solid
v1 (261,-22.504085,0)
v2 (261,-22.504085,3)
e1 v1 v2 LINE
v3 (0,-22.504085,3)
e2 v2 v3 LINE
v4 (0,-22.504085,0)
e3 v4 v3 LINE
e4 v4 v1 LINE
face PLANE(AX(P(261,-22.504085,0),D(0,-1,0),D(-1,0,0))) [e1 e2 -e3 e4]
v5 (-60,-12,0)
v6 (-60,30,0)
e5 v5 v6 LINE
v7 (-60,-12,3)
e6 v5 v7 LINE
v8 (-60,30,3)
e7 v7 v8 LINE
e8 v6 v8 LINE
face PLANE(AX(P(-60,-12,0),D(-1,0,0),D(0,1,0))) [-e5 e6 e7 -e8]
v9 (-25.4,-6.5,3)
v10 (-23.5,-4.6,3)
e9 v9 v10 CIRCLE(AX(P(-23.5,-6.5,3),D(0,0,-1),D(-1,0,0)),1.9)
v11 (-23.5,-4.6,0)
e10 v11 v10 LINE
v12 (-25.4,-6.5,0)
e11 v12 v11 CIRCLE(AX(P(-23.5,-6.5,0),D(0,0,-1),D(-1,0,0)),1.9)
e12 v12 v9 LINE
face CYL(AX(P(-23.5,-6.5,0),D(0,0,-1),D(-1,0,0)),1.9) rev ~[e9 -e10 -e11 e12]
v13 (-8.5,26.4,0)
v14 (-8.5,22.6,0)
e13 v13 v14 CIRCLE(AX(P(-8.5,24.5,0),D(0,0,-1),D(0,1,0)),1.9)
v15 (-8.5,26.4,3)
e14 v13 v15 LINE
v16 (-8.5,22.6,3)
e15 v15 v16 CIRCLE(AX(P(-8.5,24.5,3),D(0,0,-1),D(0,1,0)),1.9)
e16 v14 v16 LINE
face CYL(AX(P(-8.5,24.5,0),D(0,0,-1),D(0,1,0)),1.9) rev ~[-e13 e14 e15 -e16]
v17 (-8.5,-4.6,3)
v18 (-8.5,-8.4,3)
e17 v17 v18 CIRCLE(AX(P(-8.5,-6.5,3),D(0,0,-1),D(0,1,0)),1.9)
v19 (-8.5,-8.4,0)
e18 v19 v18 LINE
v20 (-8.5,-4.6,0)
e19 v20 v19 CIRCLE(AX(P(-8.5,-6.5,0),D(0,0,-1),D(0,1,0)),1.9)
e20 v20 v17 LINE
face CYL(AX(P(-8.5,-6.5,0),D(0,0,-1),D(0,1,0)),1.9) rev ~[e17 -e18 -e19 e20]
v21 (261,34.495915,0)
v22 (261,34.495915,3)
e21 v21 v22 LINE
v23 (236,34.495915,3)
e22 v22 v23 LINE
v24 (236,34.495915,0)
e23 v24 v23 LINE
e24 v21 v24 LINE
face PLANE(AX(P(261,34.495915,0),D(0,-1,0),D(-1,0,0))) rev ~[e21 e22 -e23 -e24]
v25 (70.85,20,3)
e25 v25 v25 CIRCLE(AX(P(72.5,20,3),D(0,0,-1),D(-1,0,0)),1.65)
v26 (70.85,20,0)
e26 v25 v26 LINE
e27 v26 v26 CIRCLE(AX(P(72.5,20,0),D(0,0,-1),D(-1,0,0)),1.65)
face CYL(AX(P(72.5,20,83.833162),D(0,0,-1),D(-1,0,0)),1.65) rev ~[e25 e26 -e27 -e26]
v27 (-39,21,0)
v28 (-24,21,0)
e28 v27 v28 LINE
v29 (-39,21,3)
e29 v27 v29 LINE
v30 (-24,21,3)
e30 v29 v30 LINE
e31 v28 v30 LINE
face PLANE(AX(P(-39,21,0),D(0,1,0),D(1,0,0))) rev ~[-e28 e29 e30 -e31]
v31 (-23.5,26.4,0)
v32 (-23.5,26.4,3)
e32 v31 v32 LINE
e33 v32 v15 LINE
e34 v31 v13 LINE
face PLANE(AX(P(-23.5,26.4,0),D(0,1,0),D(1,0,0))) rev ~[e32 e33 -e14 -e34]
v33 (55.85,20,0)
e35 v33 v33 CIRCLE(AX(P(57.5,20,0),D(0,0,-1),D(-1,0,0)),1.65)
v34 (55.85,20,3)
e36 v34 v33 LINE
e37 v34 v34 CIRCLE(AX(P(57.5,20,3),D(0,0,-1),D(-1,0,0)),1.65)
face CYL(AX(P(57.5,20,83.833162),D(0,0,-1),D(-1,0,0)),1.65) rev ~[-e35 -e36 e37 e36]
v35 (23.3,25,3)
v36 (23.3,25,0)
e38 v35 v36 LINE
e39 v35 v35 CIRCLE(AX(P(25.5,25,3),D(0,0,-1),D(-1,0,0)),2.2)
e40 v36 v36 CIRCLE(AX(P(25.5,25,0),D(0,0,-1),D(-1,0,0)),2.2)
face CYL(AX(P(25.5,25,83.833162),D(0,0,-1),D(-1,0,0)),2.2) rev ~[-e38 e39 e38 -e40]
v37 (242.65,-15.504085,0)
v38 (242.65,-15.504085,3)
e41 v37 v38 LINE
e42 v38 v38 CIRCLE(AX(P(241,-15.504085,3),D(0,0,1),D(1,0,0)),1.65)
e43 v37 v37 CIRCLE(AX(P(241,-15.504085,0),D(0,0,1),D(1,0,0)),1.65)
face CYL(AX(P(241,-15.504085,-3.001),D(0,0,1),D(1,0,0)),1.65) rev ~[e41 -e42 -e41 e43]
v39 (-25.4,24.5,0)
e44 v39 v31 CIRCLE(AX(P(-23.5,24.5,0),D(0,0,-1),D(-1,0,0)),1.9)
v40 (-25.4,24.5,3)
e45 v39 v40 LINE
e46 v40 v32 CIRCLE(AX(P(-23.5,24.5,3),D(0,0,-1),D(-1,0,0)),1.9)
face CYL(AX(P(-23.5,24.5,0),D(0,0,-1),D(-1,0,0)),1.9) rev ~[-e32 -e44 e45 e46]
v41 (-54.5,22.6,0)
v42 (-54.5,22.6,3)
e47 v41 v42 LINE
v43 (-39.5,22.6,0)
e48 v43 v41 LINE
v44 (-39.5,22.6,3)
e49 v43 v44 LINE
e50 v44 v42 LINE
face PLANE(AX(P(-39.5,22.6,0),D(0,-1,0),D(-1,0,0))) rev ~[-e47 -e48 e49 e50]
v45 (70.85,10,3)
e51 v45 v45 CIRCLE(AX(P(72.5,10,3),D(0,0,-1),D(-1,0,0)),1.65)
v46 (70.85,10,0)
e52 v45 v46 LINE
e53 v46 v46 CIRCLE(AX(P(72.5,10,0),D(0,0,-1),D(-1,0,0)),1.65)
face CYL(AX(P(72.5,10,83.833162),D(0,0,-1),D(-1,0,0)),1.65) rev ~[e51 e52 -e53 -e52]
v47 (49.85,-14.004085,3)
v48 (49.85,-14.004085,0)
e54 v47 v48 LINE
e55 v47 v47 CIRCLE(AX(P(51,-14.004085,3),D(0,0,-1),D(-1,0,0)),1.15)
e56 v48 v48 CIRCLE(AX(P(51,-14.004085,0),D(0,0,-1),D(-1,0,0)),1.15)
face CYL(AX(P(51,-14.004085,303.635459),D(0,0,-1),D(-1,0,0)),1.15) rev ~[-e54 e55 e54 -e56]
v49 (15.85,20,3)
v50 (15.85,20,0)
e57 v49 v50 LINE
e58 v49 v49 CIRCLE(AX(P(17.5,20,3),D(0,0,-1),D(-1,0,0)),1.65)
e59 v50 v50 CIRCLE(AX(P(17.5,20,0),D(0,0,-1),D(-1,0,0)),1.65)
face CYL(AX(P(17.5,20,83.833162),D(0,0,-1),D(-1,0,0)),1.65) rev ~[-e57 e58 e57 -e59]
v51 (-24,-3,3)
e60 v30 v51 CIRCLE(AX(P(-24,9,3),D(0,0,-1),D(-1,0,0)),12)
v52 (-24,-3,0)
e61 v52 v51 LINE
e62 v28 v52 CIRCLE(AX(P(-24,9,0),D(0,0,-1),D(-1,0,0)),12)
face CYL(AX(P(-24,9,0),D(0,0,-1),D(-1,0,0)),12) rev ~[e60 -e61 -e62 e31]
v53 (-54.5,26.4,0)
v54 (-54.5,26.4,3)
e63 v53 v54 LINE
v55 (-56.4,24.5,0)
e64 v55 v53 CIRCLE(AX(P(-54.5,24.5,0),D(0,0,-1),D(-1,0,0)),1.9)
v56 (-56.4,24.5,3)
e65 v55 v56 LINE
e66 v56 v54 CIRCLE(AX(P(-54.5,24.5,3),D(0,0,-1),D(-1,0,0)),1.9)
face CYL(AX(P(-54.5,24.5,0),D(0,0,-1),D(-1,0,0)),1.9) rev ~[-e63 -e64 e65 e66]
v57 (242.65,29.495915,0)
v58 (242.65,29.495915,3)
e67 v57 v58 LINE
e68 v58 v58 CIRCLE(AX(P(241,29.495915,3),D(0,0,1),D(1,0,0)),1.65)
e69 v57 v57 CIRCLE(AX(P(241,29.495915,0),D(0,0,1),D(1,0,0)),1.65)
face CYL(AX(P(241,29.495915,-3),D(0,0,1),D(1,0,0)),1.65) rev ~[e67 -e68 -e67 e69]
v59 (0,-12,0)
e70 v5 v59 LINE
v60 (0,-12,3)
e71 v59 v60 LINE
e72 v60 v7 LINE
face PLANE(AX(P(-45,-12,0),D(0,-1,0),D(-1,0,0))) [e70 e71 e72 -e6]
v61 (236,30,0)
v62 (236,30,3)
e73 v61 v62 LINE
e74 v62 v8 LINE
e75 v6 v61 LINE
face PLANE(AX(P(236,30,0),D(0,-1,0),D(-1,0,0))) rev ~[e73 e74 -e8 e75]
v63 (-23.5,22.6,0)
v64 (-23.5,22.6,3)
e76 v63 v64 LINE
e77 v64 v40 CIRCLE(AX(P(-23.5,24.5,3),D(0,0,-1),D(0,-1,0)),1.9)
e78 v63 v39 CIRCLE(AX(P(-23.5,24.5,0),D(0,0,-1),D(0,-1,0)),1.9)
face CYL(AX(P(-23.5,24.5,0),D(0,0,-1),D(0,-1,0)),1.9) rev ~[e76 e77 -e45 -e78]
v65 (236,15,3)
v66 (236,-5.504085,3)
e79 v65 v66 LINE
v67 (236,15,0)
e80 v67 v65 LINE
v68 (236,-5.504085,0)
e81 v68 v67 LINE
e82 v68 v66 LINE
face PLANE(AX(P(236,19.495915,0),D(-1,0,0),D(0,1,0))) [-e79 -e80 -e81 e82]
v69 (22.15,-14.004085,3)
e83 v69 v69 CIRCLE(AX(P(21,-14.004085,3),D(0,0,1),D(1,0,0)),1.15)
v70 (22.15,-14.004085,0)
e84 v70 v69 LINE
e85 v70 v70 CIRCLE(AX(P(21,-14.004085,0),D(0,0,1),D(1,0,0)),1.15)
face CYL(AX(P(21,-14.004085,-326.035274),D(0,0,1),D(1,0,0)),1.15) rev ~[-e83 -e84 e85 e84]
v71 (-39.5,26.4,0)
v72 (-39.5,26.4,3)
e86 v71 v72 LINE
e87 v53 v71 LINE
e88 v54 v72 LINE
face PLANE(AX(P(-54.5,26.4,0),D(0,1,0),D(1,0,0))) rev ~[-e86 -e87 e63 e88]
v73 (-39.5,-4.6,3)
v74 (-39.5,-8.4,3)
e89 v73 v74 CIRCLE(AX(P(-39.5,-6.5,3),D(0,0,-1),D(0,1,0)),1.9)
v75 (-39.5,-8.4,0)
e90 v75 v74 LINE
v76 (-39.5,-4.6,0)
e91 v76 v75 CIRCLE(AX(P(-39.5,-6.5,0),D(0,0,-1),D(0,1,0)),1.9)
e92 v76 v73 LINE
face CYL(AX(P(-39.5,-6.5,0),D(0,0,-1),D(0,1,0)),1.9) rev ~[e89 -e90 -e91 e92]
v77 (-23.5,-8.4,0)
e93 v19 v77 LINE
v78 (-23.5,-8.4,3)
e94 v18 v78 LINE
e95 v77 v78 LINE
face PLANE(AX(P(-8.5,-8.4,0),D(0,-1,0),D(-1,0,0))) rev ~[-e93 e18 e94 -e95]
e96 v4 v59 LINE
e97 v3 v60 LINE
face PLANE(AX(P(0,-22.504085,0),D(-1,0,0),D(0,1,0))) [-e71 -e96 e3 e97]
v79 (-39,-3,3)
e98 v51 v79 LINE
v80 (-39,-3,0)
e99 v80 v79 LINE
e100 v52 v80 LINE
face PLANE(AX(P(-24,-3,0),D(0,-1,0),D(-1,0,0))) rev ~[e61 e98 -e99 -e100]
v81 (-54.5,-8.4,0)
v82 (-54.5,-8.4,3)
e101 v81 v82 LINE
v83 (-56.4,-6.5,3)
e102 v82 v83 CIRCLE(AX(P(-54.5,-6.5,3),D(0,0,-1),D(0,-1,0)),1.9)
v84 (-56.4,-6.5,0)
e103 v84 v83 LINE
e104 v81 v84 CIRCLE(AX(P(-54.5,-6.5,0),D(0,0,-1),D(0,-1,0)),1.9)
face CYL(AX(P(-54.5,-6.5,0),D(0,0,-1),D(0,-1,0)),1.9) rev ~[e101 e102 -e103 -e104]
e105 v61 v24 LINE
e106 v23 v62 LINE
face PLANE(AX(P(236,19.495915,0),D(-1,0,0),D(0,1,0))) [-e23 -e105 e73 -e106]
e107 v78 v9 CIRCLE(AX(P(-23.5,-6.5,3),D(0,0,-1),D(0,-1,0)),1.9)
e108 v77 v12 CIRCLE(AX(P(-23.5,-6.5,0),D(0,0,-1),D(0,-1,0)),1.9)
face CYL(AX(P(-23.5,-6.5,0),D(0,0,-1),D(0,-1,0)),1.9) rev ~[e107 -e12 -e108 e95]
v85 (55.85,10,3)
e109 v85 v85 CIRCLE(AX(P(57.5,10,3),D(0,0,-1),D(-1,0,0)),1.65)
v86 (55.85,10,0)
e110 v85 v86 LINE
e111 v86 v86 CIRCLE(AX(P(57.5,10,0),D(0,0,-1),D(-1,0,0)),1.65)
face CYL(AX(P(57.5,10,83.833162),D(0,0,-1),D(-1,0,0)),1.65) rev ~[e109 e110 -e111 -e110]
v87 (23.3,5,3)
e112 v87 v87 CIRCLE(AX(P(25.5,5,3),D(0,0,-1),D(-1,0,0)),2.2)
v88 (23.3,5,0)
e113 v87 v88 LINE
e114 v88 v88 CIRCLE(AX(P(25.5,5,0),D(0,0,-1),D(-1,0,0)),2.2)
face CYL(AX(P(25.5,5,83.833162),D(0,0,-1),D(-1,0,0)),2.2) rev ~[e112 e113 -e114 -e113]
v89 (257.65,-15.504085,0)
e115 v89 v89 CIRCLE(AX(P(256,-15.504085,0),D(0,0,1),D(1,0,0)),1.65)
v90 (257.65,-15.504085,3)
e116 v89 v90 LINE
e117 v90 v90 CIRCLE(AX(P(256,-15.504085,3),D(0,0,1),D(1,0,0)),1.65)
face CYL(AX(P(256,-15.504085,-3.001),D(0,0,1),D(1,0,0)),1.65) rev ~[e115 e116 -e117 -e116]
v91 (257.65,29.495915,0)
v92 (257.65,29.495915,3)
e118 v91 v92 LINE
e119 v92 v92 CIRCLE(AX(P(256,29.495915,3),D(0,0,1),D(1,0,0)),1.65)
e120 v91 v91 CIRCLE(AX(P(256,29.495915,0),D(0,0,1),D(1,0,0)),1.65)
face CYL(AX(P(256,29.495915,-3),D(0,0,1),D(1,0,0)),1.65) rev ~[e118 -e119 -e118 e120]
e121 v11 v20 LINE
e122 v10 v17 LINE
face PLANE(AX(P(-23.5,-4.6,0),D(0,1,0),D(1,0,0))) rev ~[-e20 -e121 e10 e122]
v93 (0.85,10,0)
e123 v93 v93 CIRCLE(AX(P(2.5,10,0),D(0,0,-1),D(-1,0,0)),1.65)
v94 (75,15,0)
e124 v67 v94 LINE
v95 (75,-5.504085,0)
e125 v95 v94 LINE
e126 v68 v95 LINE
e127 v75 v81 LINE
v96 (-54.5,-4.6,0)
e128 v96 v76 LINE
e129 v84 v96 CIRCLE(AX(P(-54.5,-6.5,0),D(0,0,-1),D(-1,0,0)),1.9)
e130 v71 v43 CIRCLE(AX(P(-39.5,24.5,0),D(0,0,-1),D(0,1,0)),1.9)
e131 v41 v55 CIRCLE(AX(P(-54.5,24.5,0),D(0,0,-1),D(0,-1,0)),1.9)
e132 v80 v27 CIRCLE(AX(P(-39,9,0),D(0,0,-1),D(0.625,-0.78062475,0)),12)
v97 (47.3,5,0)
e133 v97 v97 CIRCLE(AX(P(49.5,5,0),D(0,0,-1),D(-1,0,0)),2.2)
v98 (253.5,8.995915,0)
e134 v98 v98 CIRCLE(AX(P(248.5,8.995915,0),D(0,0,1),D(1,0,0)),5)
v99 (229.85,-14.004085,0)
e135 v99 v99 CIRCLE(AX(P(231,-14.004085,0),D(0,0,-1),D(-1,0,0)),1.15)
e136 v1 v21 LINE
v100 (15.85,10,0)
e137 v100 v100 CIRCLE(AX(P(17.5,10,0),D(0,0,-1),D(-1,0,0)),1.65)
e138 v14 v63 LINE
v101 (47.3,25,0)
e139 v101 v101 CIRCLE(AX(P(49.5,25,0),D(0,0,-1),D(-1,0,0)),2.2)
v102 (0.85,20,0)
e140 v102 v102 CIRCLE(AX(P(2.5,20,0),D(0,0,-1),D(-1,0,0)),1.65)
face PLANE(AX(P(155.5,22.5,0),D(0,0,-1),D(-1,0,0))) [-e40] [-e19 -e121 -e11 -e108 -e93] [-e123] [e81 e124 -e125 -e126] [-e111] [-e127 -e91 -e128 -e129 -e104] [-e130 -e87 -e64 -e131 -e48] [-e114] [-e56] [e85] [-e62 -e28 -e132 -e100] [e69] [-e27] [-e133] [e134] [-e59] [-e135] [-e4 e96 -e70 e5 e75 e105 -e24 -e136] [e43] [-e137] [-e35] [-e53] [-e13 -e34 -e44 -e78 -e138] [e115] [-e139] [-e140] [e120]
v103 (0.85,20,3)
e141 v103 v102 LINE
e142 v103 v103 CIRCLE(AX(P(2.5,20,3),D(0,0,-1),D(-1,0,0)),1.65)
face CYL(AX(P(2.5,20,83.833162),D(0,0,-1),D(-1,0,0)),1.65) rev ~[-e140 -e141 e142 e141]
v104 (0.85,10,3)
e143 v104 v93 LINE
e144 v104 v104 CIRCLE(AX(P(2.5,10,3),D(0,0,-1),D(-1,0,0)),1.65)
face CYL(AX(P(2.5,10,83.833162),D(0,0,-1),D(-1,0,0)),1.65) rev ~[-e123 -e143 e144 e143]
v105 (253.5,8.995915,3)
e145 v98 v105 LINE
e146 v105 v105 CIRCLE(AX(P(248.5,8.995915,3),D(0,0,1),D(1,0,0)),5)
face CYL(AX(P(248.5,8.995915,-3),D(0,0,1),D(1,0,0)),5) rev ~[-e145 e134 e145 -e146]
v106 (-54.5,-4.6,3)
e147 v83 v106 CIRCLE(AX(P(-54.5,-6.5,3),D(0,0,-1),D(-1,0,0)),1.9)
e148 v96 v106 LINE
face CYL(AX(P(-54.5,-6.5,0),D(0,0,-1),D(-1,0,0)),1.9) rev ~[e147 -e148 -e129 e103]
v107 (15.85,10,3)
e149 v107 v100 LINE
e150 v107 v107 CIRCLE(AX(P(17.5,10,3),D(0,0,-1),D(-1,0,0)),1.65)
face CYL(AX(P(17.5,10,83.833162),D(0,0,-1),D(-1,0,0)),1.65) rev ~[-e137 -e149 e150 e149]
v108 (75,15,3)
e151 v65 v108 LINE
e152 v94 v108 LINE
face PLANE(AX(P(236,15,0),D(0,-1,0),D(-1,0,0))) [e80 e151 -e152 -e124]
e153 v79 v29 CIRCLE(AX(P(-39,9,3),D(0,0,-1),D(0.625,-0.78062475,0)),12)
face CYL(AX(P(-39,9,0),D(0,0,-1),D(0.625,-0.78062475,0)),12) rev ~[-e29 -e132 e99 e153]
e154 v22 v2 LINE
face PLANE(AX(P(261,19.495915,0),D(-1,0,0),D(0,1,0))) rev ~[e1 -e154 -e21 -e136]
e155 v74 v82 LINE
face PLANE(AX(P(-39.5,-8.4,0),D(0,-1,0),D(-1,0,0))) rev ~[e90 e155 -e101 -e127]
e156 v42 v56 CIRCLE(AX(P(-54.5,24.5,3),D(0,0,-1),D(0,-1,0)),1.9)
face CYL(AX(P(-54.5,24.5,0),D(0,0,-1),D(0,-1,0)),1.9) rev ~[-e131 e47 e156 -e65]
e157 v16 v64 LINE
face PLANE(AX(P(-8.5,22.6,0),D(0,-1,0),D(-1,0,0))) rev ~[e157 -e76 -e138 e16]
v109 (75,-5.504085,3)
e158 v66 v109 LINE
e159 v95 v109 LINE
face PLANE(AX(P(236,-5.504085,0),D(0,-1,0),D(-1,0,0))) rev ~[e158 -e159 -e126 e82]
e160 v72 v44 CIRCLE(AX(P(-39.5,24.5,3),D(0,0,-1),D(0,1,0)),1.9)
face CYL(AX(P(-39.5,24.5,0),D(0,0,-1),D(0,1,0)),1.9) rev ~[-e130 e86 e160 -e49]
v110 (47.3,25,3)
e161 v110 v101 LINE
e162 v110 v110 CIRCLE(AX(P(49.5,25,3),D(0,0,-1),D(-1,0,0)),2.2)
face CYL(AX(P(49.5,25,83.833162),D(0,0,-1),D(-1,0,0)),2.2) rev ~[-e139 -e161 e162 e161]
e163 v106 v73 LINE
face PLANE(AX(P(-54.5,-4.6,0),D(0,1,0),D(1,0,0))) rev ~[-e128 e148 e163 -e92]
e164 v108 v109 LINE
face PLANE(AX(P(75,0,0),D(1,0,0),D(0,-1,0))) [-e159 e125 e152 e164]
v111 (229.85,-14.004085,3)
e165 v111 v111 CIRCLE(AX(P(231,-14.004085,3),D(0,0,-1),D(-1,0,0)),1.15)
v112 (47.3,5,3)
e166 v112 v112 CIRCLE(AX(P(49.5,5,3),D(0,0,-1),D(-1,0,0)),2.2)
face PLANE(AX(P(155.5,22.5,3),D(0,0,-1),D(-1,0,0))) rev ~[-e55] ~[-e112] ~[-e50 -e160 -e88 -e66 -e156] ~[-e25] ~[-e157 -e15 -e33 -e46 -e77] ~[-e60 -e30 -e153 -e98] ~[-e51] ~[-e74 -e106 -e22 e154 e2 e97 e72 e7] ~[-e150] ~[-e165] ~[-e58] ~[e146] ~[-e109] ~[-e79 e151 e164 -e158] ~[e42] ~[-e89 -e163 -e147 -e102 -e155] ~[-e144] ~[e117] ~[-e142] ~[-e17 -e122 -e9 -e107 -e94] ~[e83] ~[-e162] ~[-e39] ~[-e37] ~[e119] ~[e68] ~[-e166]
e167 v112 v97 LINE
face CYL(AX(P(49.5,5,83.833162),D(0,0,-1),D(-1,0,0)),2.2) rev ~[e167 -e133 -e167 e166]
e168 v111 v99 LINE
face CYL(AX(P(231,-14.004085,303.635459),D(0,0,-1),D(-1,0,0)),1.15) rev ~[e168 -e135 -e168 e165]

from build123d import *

# Parameters (mm, degrees)
SKETCH_1_W          = 75
SKETCH_1_H          = 30
EXTRUDE_1_DEPTH     = 3
HOLE_WIZARD_1_D     = 4.4
HOLE_WIZARD_2_D     = 3.3
SKETCH_8_W          = 45
SKETCH_8_H          = 42
EXTRUDE_2_DEPTH     = 3
HOLE_WIZARD_3_D     = 3.8
SKETCH_13_W         = 15
SKETCH_13_H         = 42
EXTRUDE_3_DEPTH     = 3
CUT_EXTRUDE_3_DEPTH = 3
CUT_EXTRUDE_5_DEPTH = 3
CUT_EXTRUDE_6_DEPTH = 3
SKETCH_18_W         = 75
SKETCH_18_H         = 2.504084813
SKETCH_18_H_2       = 3
SKETCH_18_W_2       = 161
SKETCH_18_H_3       = 17
EXTRUDE_4_DEPTH     = 3
HOLE_WIZARD_4_D     = 2.3
SKETCH_22_W         = 25
SKETCH_22_H         = 42
EXTRUDE_5_DEPTH     = 3
HOLE_WIZARD_5_D     = 10
HOLE_WIZARD_5_DEPTH = 3
HOLE_WIZARD_7_D     = 3.3
HOLE_WIZARD_7_DEPTH = 3.001
SKETCH_31_W         = 25
SKETCH_31_H         = 15
EXTRUDE_6_DEPTH     = 3
HOLE_WIZARD_8_D     = 3.3
HOLE_WIZARD_8_DEPTH = 3
SKETCH_36_W         = 161
SKETCH_36_H         = 15
EXTRUDE_7_DEPTH     = 3
HOLE_WIZARD_9_D     = 2.3
SKETCH_40_R         = 12
CUT_EXTRUDE_7_DEPTH = 10


with BuildPart() as part:
    # 草图1 → 凸台-拉伸1 (new body)
    with BuildSketch(Plane.XY):
        with Locations((37.5, 15)):
            Rectangle(SKETCH_1_W, SKETCH_1_H)
    extrude(amount=EXTRUDE_1_DEPTH)

    # 孔1 (through all)
    with Locations(Plane.XY.offset(3)):
        with Locations((25.5, 25), (49.5, 25), (49.5, 5), (25.5, 5)):
            Hole(HOLE_WIZARD_1_D / 2)

    # 孔2 (through all)
    with Locations(Plane.XY.offset(3)):
        with Locations((2.5, 20), (17.5, 20), (17.5, 10), (2.5, 10), (57.5, 10), (57.5, 20), (72.5, 20), (72.5, 10)):
            Hole(HOLE_WIZARD_2_D / 2)

    # 草图8 → 凸台-拉伸2 (add)
    with BuildSketch(Plane(origin=(0, 0, 0), x_dir=(-1, 0, 0), z_dir=(0, 0, -1))):
        with Locations((22.5, 9)):
            Rectangle(SKETCH_8_W, SKETCH_8_H)
    extrude(amount=-EXTRUDE_2_DEPTH)

    # 孔3 (through all)
    with Locations(Plane.XY.offset(3)):
        with Locations((-39.5, 24.5), (-8.5, 24.5), (-8.5, -6.5), (-39.5, -6.5)):
            Hole(HOLE_WIZARD_3_D / 2)

    # 草图13 → 凸台-拉伸3 (add)
    with BuildSketch(Plane(origin=(0, 0, 0), x_dir=(-1, 0, 0), z_dir=(0, 0, -1))):
        with Locations((52.5, 9)):
            Rectangle(SKETCH_13_W, SKETCH_13_H)
    extrude(amount=-EXTRUDE_3_DEPTH)

    # 草图14 → 切除-拉伸3 (cut)
    with BuildSketch(Plane(origin=(0, 0, 0), x_dir=(-1, 0, 0), z_dir=(0, 0, -1))):
        with BuildLine():
            Line((23.5, 26.4), (8.5, 26.4))
            ThreePointArc((8.5, 26.4), (9.843502884, 25.843502884), (10.4, 24.5))
            ThreePointArc((10.4, 24.5), (9.843502884, 23.156497116), (8.5, 22.6))
            Line((8.5, 22.6), (23.5, 22.6))
            ThreePointArc((23.5, 22.6), (21.6, 24.5), (23.5, 26.4))
        make_face()
        with BuildLine():
            ThreePointArc((25.4, 24.5), (24.843502884, 25.843502884), (23.5, 26.4))
            Line((23.5, 26.4), (23.5, 22.6))
            ThreePointArc((23.5, 22.6), (24.843502884, 23.156497116), (25.4, 24.5))
        make_face()
        with BuildLine():
            Line((23.5, 22.6), (23.5, 26.4))
            ThreePointArc((23.5, 26.4), (21.6, 24.5), (23.5, 22.6))
        make_face()
        with BuildLine():
            ThreePointArc((10.4, 24.5), (9.843502884, 25.843502884), (8.5, 26.4))
            Line((8.5, 26.4), (8.5, 22.6))
            ThreePointArc((8.5, 22.6), (9.843502884, 23.156497116), (10.4, 24.5))
        make_face()
        with BuildLine():
            Line((8.5, 22.6), (8.5, 26.4))
            ThreePointArc((8.5, 26.4), (6.6, 24.5), (8.5, 22.6))
        make_face()
        with BuildLine():
            Line((23.5, -4.6), (8.5, -4.6))
            ThreePointArc((8.5, -4.6), (9.843502884, -5.156497116), (10.4, -6.5))
            ThreePointArc((10.4, -6.5), (9.843502884, -7.843502884), (8.5, -8.4))
            Line((8.5, -8.4), (23.5, -8.4))
            ThreePointArc((23.5, -8.4), (21.6, -6.5), (23.5, -4.6))
        make_face()
        with BuildLine():
            ThreePointArc((10.4, -6.5), (9.843502884, -5.156497116), (8.5, -4.6))
            Line((8.5, -4.6), (8.5, -8.4))
            ThreePointArc((8.5, -8.4), (9.843502884, -7.843502884), (10.4, -6.5))
        make_face()
        with BuildLine():
            Line((8.5, -8.4), (8.5, -4.6))
            ThreePointArc((8.5, -4.6), (6.6, -6.5), (8.5, -8.4))
        make_face()
        with BuildLine():
            ThreePointArc((25.4, -6.5), (24.843502884, -5.156497116), (23.5, -4.6))
            Line((23.5, -4.6), (23.5, -8.4))
            ThreePointArc((23.5, -8.4), (24.843502884, -7.843502884), (25.4, -6.5))
        make_face()
        with BuildLine():
            Line((23.5, -8.4), (23.5, -4.6))
            ThreePointArc((23.5, -4.6), (21.6, -6.5), (23.5, -8.4))
        make_face()
        with BuildLine():
            ThreePointArc((39.5, 26.4), (40.843502884, 25.843502884), (41.4, 24.5))
            Line((41.4, 24.5), (52.6, 24.5))
            ThreePointArc((52.6, 24.5), (53.156497116, 25.843502884), (54.5, 26.4))
            Line((54.5, 26.4), (39.5, 26.4))
        make_face()
        with BuildLine():
            Line((52.6, 24.5), (41.4, 24.5))
            ThreePointArc((41.4, 24.5), (40.843502884, 23.156497116), (39.5, 22.6))
            Line((39.5, 22.6), (54.5, 22.6))
            ThreePointArc((54.5, 22.6), (53.156497116, 23.156497116), (52.6, 24.5))
        make_face()
        with BuildLine():
            Line((41.4, 24.5), (39.5, 24.5))
            Line((39.5, 24.5), (39.5, 22.6))
            ThreePointArc((39.5, 22.6), (40.843502884, 23.156497116), (41.4, 24.5))
        make_face()
        with BuildLine():
            Line((39.5, 26.4), (39.5, 24.5))
            Line((39.5, 24.5), (41.4, 24.5))
            ThreePointArc((41.4, 24.5), (40.843502884, 25.843502884), (39.5, 26.4))
        make_face()
        with BuildLine():
            Line((39.5, 22.6), (39.5, 24.5))
            Line((39.5, 24.5), (39.5, 26.4))
            ThreePointArc((39.5, 26.4), (37.6, 24.5), (39.5, 22.6))
        make_face()
        with BuildLine():
            Line((54.5, 24.5), (54.5, 22.6))
            ThreePointArc((54.5, 22.6), (55.843502884, 23.156497116), (56.4, 24.5))
            ThreePointArc((56.4, 24.5), (55.843502884, 25.843502884), (54.5, 26.4))
            Line((54.5, 26.4), (54.5, 24.5))
        make_face()
        with BuildLine():
            Line((54.5, 24.5), (52.6, 24.5))
            ThreePointArc((52.6, 24.5), (53.156497116, 23.156497116), (54.5, 22.6))
            Line((54.5, 22.6), (54.5, 24.5))
        make_face()
        with BuildLine():
            ThreePointArc((54.5, 26.4), (53.156497116, 25.843502884), (52.6, 24.5))
            Line((52.6, 24.5), (54.5, 24.5))
            Line((54.5, 24.5), (54.5, 26.4))
        make_face()
        with BuildLine():
            Line((54.5, -4.6), (39.5, -4.6))
            ThreePointArc((39.5, -4.6), (40.843502884, -5.156497116), (41.4, -6.5))
            Line((41.4, -6.5), (52.6, -6.5))
            ThreePointArc((52.6, -6.5), (53.156497116, -5.156497116), (54.5, -4.6))
        make_face()
        with BuildLine():
            Line((52.6, -6.5), (41.4, -6.5))
            ThreePointArc((41.4, -6.5), (40.843502884, -7.843502884), (39.5, -8.4))
            Line((39.5, -8.4), (54.5, -8.4))
            ThreePointArc((54.5, -8.4), (53.156497116, -7.843502884), (52.6, -6.5))
        make_face()
        with BuildLine():
            Line((54.5, -6.5), (54.5, -4.6))
            ThreePointArc((54.5, -4.6), (53.156497116, -5.156497116), (52.6, -6.5))
            Line((52.6, -6.5), (54.5, -6.5))
        make_face()
        with BuildLine():
            Line((54.5, -8.4), (54.5, -6.5))
            Line((54.5, -6.5), (52.6, -6.5))
            ThreePointArc((52.6, -6.5), (53.156497116, -7.843502884), (54.5, -8.4))
        make_face()
        with BuildLine():
            ThreePointArc((56.4, -6.5), (55.843502884, -5.156497116), (54.5, -4.6))
            Line((54.5, -4.6), (54.5, -6.5))
            Line((54.5, -6.5), (54.5, -8.4))
            ThreePointArc((54.5, -8.4), (55.843502884, -7.843502884), (56.4, -6.5))
        make_face()
        with BuildLine():
            ThreePointArc((41.4, -6.5), (40.843502884, -5.156497116), (39.5, -4.6))
            Line((39.5, -4.6), (39.5, -6.5))
            Line((39.5, -6.5), (41.4, -6.5))
        make_face()
        with BuildLine():
            Line((41.4, -6.5), (39.5, -6.5))
            Line((39.5, -6.5), (39.5, -8.4))
            ThreePointArc((39.5, -8.4), (40.843502884, -7.843502884), (41.4, -6.5))
        make_face()
        with BuildLine():
            Line((39.5, -6.5), (39.5, -4.6))
            ThreePointArc((39.5, -4.6), (37.6, -6.5), (39.5, -8.4))
            Line((39.5, -8.4), (39.5, -6.5))
        make_face()
    extrude(amount=-CUT_EXTRUDE_3_DEPTH, mode=Mode.SUBTRACT)

    # 草图16 → 切除-拉伸5 (cut)
    with BuildSketch(Plane(origin=(0, 0, 0), x_dir=(-1, 0, 0), z_dir=(0, 0, -1))):
        with BuildLine():
            Line((24, 20.504084813), (24, -2.489125293))
            Line((24, -2.489125293), (39.5, -2.489125293))
            ThreePointArc((39.5, -2.489125293), (50.5, 9), (39.5, 20.489125293))
            Line((39.5, 20.489125293), (39.5, 20.504084813))
            Line((39.5, 20.504084813), (24, 20.504084813))
        make_face()
    extrude(amount=-CUT_EXTRUDE_5_DEPTH, mode=Mode.SUBTRACT)

    # 草图17 → 切除-拉伸6 (cut)
    with BuildSketch(Plane(origin=(0, 0, 0), x_dir=(-1, 0, 0), z_dir=(0, 0, -1))):
        with BuildLine():
            Line((24, -2.489125293), (24, 20.504084813))
            ThreePointArc((24, 20.504084813), (12.495915187, 9), (24, -2.504084813))
            Line((24, -2.504084813), (24, -2.489125293))
        make_face()
    extrude(amount=-CUT_EXTRUDE_6_DEPTH, mode=Mode.SUBTRACT)

    # 草图18 → 凸台-拉伸4 (add)
    with BuildSketch(Plane(origin=(0, 0, 0), x_dir=(-1, 0, 0), z_dir=(0, 0, -1))):
        with Locations((-37.5, -1.252042406)):
            Rectangle(SKETCH_18_W, SKETCH_18_H)
        with Locations((-37.5, -4.004084813)):
            Rectangle(SKETCH_18_W, SKETCH_18_H_2)
        Polygon((0, -12), (0, -5.504084813), (-75, -5.504084813), (-75, -22.504084813), (0, -22.504084813), align=None)
        with Locations((-155.5, -14.004084813)):
            Rectangle(SKETCH_18_W_2, SKETCH_18_H_3)
    extrude(amount=-EXTRUDE_4_DEPTH)

    # 孔4 (through all)
    with Locations(Plane.XY.offset(3)):
        with Locations((51, -14.004084813), (231, -14.004084813)):
            Hole(HOLE_WIZARD_4_D / 2)

    # 草图22 → 凸台-拉伸5 (add)
    with BuildSketch(Plane(origin=(0, 0, 0), x_dir=(-1, 0, 0), z_dir=(0, 0, -1))):
        with Locations((-248.5, -1.504084813)):
            Rectangle(SKETCH_22_W, SKETCH_22_H)
    extrude(amount=-EXTRUDE_5_DEPTH)

    # 孔5
    with Locations(Plane(origin=(0, 0, 0), x_dir=(-1, 0, 0), z_dir=(0, 0, -1))):
        with Locations((-248.5, 8.995915187), (-277.5, 6.995915187)):
            Hole(HOLE_WIZARD_5_D / 2, depth=HOLE_WIZARD_5_DEPTH)

    # 孔7
    with Locations(Plane(origin=(0, 0, 0), x_dir=(-1, 0, 0), z_dir=(0, 0, -1))):
        with Locations((-241, -15.504084813), (-285, -15.504084813), (-270, -15.504084813), (-256, -15.504084813)):
            Hole(HOLE_WIZARD_7_D / 2, depth=HOLE_WIZARD_7_DEPTH)

    # 草图31 → 凸台-拉伸6 (add)
    with BuildSketch(Plane(origin=(0, 0, 0), x_dir=(-1, 0, 0), z_dir=(0, 0, -1))):
        with Locations((-248.5, 26.995915187)):
            Rectangle(SKETCH_31_W, SKETCH_31_H)
    extrude(amount=-EXTRUDE_6_DEPTH)

    # 孔8
    with Locations(Plane(origin=(0, 0, 0), x_dir=(-1, 0, 0), z_dir=(0, 0, -1))):
        with Locations((-241, 29.495915187), (-285, 29.495915187), (-270, 29.495915187), (-256, 29.495915187)):
            Hole(HOLE_WIZARD_8_D / 2, depth=HOLE_WIZARD_8_DEPTH)

    # 草图36 → 凸台-拉伸7 (add)
    with BuildSketch(Plane(origin=(0, 0, 0), x_dir=(-1, 0, 0), z_dir=(0, 0, -1))):
        with Locations((-155.5, 22.5)):
            Rectangle(SKETCH_36_W, SKETCH_36_H)
    extrude(amount=-EXTRUDE_7_DEPTH)

    # 孔9 (through all)
    with Locations(Plane(origin=(0, 0, 0), x_dir=(-1, 0, 0), z_dir=(0, 0, -1))):
        with Locations((-21, -14.004084813)):
            Hole(HOLE_WIZARD_9_D / 2)

    # 草图40 → 切除-拉伸7 (cut)
    with BuildSketch(Plane(origin=(0, 0, 0), x_dir=(-1, 0, 0), z_dir=(0, 0, -1))):
        with Locations((39, 9)):
            Circle(SKETCH_40_R)
        with Locations((24, 9)):
            Circle(SKETCH_40_R)
        with BuildLine():
            Line((39, 21), (24, 21))
            ThreePointArc((24, 21), (27.974294656, 20.322763885), (31.5, 18.367496998))
            ThreePointArc((31.5, 18.367496998), (35.025705344, 20.322763885), (39, 21))
        make_face()
        with BuildLine():
            ThreePointArc((31.5, -0.367496998), (27.974294656, -2.322763885), (24, -3))
            Line((24, -3), (39, -3))
            ThreePointArc((39, -3), (35.025705344, -2.322763885), (31.5, -0.367496998))
        make_face()
    extrude(amount=-CUT_EXTRUDE_7_DEPTH, mode=Mode.SUBTRACT)


solid = part.part
